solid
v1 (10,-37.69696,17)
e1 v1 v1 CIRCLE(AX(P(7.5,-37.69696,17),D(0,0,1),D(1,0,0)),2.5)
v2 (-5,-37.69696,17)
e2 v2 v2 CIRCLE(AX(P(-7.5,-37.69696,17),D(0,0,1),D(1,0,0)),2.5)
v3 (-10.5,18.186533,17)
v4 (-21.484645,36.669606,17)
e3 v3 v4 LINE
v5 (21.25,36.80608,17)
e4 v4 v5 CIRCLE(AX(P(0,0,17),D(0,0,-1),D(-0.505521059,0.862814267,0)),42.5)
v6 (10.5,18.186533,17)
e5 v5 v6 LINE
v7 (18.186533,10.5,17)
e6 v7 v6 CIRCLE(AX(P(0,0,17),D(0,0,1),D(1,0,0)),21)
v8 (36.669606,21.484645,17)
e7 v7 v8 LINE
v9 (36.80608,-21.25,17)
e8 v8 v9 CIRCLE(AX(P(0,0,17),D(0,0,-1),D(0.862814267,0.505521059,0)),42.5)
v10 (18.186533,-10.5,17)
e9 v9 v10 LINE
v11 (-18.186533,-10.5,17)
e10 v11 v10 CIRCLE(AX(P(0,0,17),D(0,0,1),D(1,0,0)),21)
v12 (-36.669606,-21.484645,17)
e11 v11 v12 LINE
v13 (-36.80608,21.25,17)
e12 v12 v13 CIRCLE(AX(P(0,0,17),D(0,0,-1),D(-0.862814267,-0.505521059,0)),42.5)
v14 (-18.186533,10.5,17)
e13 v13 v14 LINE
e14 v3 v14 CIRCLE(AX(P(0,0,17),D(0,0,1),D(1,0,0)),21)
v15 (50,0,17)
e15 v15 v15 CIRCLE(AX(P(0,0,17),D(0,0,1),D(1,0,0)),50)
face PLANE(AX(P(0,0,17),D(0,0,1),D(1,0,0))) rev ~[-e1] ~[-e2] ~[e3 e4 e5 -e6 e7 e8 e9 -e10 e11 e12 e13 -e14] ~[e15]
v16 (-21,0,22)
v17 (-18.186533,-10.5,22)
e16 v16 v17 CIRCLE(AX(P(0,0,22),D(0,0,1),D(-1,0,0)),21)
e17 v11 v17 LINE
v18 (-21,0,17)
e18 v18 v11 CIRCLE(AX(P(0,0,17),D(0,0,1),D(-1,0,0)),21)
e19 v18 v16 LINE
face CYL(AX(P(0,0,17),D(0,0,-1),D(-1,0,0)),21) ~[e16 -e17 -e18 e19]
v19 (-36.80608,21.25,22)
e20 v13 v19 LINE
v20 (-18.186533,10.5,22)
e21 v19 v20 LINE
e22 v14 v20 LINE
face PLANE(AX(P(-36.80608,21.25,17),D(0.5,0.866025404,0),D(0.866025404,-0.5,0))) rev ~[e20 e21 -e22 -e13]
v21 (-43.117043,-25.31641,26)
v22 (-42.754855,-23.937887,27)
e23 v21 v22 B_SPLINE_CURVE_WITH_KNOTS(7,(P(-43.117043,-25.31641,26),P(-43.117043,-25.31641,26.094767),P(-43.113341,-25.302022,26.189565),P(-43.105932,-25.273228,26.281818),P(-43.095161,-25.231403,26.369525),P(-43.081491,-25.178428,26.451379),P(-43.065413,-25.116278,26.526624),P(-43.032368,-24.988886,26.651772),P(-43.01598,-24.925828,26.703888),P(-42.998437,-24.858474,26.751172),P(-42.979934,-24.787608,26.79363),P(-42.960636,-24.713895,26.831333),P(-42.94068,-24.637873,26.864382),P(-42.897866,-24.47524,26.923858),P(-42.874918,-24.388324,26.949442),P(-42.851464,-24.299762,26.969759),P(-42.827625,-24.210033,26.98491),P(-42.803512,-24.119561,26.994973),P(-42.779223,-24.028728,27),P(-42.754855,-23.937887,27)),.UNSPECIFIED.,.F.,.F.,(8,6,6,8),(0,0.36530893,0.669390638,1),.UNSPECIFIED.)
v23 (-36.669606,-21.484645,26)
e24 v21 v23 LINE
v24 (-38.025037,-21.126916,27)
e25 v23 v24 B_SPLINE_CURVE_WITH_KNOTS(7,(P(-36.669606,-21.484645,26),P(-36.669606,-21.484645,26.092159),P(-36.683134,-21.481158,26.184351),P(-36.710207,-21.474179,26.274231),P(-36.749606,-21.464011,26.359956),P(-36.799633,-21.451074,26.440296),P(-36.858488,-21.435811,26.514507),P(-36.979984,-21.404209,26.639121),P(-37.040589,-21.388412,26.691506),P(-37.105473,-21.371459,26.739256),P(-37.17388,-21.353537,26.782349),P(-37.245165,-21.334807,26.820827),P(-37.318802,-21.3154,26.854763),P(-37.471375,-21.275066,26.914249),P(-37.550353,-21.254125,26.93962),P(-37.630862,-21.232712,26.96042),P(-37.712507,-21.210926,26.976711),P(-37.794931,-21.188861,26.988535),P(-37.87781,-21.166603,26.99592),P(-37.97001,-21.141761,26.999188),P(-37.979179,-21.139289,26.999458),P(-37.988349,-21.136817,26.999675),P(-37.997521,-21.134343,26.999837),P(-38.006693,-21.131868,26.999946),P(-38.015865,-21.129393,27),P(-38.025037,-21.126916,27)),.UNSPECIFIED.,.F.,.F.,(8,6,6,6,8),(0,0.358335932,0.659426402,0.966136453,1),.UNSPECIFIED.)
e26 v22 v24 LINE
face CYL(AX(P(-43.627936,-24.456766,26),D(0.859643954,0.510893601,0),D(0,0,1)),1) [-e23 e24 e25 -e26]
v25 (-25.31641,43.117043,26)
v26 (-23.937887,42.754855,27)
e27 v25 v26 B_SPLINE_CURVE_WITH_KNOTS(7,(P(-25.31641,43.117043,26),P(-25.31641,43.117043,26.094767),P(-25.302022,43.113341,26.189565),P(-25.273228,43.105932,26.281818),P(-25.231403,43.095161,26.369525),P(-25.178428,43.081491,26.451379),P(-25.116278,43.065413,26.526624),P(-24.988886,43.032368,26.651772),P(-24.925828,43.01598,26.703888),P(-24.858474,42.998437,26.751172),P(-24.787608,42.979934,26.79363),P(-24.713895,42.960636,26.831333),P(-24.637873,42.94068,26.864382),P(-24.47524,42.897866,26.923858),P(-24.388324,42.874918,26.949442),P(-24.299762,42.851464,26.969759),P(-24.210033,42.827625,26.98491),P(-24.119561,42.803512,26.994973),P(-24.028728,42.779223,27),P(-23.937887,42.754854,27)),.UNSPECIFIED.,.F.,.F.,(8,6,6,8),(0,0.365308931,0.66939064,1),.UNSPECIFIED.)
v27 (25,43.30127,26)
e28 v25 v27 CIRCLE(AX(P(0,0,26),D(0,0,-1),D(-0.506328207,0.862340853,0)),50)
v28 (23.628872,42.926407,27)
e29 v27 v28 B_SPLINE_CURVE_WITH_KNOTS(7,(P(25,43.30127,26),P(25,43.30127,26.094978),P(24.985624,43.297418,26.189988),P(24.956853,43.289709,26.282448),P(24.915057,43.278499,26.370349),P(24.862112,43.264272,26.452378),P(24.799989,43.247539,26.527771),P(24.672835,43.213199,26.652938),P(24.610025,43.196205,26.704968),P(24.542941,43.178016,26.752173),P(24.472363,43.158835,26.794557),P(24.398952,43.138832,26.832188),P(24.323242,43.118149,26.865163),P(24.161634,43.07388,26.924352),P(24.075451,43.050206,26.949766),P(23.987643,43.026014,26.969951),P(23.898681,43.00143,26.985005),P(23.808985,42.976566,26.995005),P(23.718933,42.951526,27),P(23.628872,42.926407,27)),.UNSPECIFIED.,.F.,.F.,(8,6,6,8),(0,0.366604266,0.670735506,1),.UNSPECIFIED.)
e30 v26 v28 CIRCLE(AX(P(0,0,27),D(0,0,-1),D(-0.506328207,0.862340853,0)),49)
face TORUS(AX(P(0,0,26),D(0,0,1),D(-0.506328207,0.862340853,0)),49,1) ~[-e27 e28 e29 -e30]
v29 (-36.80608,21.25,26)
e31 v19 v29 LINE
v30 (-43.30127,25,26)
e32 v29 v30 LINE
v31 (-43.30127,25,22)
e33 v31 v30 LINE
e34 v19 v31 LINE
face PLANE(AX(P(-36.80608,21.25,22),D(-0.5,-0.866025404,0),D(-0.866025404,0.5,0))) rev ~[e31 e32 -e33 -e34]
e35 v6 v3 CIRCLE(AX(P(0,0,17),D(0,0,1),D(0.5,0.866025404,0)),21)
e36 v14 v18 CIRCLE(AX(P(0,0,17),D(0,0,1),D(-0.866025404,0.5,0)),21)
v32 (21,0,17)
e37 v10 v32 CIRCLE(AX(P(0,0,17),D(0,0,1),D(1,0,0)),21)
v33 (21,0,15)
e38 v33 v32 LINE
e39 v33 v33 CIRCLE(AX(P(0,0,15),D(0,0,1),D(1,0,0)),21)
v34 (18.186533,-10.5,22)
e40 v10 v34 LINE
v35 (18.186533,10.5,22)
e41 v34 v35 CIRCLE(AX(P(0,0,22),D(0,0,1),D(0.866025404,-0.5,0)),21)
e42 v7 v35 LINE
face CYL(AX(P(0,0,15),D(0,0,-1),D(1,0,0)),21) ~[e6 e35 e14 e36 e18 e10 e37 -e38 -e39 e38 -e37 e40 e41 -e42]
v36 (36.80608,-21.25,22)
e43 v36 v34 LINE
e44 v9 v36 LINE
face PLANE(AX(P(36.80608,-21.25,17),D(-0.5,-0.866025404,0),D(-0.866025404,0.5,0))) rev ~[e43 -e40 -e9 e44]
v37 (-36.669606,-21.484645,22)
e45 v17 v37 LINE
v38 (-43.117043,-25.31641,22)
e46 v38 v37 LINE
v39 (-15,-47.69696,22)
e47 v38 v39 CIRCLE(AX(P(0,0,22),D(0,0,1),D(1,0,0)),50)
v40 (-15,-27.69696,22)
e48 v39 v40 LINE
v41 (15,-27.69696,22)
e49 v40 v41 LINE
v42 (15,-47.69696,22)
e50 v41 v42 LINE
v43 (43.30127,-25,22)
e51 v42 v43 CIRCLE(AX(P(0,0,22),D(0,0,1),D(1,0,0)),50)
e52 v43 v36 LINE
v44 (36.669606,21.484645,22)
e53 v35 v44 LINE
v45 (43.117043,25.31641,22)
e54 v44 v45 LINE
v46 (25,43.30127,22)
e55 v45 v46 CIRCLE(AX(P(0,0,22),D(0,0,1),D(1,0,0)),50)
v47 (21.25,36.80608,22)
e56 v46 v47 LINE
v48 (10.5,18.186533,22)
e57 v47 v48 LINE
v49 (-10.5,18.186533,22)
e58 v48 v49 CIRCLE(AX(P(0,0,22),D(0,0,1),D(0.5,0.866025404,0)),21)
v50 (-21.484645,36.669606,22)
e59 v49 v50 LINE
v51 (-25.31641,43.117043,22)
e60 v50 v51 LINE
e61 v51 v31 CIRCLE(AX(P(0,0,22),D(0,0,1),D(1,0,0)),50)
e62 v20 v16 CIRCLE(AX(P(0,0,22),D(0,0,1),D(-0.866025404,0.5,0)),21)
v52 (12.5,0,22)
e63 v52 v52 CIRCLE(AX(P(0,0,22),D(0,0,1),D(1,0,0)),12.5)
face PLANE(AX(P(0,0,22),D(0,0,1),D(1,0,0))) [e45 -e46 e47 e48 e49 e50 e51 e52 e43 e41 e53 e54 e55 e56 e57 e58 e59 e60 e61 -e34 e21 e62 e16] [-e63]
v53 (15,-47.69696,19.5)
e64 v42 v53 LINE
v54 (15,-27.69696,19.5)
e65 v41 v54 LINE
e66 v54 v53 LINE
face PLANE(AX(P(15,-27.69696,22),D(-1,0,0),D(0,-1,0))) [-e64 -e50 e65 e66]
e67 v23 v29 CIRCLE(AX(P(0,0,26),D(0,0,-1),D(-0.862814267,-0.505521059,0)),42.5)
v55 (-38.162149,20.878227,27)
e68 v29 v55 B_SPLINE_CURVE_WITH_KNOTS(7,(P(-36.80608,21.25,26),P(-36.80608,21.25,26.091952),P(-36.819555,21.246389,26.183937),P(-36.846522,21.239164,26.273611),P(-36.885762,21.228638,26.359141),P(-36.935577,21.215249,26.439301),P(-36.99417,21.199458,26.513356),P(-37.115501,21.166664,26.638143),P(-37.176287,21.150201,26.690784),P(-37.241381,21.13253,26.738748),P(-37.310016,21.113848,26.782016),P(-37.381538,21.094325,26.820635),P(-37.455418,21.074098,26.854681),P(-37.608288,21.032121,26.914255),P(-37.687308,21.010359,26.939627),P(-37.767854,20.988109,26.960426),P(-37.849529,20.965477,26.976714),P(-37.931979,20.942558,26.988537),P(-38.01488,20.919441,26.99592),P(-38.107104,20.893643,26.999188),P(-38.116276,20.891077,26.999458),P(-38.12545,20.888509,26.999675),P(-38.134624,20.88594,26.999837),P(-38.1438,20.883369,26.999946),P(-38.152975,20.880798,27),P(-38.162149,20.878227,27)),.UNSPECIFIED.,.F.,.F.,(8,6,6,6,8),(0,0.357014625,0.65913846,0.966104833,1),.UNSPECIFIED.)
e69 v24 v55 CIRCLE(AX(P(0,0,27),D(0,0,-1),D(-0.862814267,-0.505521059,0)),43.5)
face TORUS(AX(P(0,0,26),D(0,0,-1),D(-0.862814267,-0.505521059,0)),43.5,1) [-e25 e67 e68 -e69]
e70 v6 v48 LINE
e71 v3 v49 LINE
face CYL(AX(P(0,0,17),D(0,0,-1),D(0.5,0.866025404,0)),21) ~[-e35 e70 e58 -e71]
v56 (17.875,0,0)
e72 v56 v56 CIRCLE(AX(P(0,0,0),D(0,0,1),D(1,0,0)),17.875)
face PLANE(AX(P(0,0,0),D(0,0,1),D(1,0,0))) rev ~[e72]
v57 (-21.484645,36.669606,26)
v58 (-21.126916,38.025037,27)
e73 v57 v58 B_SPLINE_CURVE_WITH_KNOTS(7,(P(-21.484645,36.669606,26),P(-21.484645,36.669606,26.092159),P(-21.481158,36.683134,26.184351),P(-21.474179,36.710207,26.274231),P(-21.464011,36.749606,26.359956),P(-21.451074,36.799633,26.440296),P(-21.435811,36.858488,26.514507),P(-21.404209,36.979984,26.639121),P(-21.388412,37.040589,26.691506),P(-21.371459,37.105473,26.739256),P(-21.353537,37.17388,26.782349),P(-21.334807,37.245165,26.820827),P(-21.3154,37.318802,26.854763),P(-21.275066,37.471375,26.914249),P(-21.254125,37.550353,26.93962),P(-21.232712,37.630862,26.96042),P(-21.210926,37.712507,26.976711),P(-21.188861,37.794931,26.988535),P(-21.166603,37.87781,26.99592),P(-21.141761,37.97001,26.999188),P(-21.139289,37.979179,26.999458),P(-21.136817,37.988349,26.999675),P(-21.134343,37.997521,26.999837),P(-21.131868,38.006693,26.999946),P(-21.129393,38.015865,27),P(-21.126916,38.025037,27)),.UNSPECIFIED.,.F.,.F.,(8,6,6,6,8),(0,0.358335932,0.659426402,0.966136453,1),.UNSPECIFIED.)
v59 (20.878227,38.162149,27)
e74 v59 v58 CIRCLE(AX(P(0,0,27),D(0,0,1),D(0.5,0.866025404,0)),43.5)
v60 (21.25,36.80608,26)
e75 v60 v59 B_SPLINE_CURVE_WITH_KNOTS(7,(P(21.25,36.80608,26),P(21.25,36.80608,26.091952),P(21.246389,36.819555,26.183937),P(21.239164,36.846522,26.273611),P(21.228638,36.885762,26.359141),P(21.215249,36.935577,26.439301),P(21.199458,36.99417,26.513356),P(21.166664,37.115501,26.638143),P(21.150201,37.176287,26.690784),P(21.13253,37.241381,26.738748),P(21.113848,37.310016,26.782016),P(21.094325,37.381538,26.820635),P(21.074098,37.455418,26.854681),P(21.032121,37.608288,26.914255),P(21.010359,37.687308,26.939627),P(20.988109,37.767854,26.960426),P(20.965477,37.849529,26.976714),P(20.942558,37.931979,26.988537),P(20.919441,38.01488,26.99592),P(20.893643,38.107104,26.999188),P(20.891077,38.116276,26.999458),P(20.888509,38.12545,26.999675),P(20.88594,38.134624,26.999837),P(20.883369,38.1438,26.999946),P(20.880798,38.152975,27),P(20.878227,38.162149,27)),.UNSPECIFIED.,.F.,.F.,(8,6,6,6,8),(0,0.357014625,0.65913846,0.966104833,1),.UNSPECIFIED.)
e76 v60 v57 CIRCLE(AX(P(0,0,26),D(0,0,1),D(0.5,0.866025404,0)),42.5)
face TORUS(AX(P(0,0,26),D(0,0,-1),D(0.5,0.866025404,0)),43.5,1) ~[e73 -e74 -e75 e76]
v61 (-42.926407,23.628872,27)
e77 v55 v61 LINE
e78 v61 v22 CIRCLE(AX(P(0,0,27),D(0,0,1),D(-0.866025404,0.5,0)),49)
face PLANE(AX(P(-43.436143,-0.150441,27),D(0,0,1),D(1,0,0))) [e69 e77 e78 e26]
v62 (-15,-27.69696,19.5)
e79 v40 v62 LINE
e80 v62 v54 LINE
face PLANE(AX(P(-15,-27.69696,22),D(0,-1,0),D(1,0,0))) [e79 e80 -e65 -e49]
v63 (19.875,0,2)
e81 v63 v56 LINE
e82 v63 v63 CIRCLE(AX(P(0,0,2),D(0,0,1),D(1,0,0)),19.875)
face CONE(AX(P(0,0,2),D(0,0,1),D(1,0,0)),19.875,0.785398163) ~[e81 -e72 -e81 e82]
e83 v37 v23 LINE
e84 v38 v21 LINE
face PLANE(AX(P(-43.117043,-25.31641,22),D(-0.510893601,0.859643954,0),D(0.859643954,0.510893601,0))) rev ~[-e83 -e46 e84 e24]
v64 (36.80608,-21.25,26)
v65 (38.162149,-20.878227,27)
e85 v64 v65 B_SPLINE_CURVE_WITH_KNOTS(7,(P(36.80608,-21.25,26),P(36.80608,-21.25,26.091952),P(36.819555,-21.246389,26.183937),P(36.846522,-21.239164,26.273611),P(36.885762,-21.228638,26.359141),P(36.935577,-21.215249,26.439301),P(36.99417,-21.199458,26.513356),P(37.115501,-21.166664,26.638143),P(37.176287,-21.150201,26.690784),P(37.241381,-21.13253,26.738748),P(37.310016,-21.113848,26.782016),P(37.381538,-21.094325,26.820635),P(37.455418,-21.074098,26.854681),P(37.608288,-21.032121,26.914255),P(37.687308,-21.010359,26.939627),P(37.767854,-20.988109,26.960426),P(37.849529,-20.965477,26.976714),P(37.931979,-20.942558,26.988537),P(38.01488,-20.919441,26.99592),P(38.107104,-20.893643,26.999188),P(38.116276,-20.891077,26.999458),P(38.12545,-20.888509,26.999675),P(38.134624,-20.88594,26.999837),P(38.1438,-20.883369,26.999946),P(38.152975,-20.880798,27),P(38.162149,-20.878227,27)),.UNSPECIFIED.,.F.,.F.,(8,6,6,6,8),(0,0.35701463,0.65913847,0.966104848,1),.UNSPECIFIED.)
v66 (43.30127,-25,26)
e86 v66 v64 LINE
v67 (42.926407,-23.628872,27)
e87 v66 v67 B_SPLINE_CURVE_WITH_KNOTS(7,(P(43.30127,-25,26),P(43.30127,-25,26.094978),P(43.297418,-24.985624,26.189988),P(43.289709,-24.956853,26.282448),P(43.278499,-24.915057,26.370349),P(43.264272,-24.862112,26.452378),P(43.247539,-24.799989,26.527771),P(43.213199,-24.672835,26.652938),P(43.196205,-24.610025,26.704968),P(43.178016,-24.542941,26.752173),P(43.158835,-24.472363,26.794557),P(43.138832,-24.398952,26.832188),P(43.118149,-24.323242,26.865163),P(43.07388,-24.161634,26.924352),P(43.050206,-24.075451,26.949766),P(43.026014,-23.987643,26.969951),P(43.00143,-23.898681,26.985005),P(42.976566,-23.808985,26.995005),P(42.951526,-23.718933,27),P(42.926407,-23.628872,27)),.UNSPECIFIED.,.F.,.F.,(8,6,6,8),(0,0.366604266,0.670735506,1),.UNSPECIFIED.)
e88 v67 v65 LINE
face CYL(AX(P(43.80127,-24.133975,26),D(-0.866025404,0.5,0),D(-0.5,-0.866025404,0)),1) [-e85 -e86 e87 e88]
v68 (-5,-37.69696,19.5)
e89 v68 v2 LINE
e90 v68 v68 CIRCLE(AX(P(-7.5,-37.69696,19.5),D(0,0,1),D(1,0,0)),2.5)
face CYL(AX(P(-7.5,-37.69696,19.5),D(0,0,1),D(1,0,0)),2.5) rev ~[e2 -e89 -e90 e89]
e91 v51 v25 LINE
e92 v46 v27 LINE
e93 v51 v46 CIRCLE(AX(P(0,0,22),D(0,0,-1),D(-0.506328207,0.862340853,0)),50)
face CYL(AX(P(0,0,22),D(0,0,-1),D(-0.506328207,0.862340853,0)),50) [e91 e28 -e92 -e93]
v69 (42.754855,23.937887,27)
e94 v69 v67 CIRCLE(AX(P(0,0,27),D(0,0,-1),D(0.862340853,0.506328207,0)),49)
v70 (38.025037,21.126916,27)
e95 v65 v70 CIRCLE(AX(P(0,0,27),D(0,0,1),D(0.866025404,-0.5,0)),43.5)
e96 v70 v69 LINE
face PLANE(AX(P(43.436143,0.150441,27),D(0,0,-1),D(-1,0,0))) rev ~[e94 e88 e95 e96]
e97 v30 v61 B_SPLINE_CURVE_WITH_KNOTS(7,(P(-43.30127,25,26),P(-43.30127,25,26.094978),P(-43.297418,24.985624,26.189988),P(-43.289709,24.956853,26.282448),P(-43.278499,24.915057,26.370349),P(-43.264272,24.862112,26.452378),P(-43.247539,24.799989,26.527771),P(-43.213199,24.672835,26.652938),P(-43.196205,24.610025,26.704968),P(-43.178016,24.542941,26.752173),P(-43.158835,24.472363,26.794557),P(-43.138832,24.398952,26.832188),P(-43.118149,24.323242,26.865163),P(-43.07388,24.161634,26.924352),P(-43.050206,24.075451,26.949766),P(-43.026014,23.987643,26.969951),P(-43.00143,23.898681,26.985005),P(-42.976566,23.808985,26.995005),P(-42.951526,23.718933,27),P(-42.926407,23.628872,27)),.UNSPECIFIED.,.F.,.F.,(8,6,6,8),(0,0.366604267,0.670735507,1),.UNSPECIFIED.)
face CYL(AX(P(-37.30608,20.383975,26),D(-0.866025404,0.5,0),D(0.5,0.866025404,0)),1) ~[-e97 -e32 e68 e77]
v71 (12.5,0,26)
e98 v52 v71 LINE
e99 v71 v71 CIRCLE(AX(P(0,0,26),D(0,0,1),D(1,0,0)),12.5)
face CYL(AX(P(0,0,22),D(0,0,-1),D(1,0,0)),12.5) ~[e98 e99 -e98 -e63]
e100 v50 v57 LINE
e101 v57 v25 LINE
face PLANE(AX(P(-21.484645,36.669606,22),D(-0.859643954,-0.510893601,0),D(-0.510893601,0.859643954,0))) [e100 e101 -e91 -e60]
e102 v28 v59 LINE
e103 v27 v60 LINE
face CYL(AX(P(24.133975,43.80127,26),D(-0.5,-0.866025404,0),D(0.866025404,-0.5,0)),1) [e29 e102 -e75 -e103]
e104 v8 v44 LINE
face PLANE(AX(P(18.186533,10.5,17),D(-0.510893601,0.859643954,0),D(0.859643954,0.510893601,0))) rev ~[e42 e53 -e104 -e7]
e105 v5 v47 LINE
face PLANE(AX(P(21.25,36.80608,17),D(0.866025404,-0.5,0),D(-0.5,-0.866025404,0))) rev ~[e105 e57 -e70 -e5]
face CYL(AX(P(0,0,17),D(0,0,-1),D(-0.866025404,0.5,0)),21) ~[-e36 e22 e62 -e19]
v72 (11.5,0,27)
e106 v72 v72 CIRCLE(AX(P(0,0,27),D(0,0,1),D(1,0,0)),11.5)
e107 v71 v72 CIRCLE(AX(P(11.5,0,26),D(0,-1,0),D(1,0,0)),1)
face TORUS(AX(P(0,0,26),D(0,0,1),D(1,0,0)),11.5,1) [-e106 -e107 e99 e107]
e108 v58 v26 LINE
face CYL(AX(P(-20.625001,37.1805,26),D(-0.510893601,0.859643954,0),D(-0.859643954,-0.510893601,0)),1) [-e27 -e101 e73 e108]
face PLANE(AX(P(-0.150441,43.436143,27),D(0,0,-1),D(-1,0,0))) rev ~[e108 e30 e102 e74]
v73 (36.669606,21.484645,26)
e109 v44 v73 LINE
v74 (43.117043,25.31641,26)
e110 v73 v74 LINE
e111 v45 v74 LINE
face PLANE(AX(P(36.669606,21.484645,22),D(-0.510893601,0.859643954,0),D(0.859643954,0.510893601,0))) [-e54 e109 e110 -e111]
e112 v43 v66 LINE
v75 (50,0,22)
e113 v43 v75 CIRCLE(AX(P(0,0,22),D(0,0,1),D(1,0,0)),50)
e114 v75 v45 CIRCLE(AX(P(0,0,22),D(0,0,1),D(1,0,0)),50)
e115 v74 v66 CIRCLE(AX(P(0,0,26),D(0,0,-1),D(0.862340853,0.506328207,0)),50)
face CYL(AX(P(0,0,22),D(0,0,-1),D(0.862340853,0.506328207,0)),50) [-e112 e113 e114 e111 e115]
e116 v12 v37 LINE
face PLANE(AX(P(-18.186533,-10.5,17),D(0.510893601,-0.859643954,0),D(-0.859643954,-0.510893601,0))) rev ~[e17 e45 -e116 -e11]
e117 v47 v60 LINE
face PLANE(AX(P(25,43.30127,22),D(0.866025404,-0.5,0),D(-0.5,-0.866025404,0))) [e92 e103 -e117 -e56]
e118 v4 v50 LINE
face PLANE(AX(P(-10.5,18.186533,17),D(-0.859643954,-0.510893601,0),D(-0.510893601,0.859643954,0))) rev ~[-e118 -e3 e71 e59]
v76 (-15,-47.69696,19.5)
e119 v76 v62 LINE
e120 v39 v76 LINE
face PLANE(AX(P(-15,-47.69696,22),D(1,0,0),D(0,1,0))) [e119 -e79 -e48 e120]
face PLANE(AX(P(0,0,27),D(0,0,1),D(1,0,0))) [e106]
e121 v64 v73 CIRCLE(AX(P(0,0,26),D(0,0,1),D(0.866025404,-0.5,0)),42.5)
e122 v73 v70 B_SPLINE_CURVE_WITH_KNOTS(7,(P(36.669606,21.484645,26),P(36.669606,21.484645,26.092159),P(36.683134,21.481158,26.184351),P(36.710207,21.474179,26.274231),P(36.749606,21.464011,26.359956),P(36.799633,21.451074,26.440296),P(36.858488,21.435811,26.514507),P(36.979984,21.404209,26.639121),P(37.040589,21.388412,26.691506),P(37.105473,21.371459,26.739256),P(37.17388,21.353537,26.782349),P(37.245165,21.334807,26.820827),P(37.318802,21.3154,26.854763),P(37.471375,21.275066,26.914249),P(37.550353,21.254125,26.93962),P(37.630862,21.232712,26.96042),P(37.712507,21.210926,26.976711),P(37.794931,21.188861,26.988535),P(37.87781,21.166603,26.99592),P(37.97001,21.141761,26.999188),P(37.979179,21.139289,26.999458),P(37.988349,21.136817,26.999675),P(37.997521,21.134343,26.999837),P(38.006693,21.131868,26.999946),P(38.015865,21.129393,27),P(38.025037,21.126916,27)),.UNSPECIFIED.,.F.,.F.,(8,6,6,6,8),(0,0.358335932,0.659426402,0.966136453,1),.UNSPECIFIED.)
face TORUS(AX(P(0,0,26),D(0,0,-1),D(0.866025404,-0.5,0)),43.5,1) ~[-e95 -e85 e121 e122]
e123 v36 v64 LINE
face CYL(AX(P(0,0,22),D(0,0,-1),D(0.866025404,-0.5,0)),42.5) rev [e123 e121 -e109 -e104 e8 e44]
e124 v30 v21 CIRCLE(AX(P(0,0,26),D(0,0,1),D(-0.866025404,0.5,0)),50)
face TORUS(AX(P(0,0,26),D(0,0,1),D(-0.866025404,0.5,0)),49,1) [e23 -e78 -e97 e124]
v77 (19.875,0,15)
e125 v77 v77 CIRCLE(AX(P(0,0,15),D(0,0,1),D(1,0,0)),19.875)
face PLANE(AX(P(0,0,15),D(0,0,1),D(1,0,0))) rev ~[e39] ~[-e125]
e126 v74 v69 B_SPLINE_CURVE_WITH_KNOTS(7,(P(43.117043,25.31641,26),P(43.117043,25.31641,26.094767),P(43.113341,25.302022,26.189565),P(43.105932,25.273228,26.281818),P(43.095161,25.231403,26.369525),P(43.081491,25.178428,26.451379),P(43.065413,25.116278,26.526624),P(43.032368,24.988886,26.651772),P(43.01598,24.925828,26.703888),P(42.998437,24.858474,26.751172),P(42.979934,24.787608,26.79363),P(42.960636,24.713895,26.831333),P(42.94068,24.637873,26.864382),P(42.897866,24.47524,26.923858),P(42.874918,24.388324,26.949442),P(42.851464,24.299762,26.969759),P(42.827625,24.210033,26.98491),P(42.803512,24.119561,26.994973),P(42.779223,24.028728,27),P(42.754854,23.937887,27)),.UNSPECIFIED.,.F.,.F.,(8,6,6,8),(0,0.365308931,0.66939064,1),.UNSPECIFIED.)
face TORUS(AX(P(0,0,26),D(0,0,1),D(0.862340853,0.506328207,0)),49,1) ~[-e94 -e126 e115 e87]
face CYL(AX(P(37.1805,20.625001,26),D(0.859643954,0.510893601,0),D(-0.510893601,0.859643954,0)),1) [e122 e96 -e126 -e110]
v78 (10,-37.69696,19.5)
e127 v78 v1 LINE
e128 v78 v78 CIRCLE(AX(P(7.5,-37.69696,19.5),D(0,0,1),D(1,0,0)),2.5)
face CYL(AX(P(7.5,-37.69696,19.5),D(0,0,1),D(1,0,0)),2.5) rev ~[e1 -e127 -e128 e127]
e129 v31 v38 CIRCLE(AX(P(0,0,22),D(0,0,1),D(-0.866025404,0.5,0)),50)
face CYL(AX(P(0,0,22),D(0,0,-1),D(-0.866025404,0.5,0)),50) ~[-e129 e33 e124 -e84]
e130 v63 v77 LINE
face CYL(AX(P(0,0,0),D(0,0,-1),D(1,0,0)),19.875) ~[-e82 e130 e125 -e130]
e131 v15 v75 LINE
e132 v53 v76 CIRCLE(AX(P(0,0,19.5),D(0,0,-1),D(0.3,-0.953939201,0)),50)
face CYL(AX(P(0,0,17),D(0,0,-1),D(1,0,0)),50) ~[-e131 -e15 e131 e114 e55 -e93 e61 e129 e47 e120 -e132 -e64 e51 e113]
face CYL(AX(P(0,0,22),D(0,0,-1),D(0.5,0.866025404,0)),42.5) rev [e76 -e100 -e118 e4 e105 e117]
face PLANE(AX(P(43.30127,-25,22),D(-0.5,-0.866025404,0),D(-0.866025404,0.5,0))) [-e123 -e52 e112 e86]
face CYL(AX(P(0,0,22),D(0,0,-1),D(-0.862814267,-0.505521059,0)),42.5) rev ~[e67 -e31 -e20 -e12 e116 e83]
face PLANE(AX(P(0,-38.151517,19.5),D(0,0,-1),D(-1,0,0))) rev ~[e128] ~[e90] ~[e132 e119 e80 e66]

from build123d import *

# Parameters (mm, degrees)
SKETCH1_R           = 19.875
BOSS_EXTRUDE1_DEPTH = 15
SKETCH2_R           = 21
BOSS_EXTRUDE2_DEPTH = 2
SKETCH3_R           = 50
BOSS_EXTRUDE3_DEPTH = 5
CUT_EXTRUDE2_DEPTH  = 5
CUT_EXTRUDE3_DEPTH  = 2.5
SKETCH8_R           = 2.5
CUT_EXTRUDE4_DEPTH  = 20.5
BOSS_EXTRUDE4_DEPTH = 5
FILLET1_R           = 1
CHAMFER1_SIZE       = 2
SKETCH10_R          = 12.5
BOSS_EXTRUDE5_DEPTH = 5
FILLET2_R           = 1


with BuildPart() as part:
    # Sketch1 → Boss-Extrude1 (new body)
    with BuildSketch(Plane.XY):
        Circle(SKETCH1_R)
    extrude(amount=BOSS_EXTRUDE1_DEPTH)

    # Sketch2 → Boss-Extrude2 (add)
    with BuildSketch(Plane.XY.offset(15)):
        Circle(SKETCH2_R)
    extrude(amount=BOSS_EXTRUDE2_DEPTH)

    # Sketch3 → Boss-Extrude3 (add)
    with BuildSketch(Plane.XY.offset(17)):
        Circle(SKETCH3_R)
    extrude(amount=BOSS_EXTRUDE3_DEPTH)

    # Sketch4 → Cut-Extrude2 (cut)
    with BuildSketch(Plane(origin=(0, 0, 17), x_dir=(-1, 0, 0), z_dir=(0, 0, -1))):
        with BuildLine():
            ThreePointArc((-18.186533479, -10.5), (-21, 0), (-18.186533479, 10.5))
            Line((-18.186533479, 10.5), (-36.669606346, 21.484644991))
            ThreePointArc((-36.669606346, 21.484644991), (-42.499783284, 0.135723282), (-36.806079661, -21.25))
            Line((-36.806079661, -21.25), (-18.186533479, -10.5))
        make_face()
        with BuildLine():
            Line((-21.25, 36.806079661), (-10.5, 18.186533479))
            ThreePointArc((-10.5, 18.186533479), (0, 21), (10.5, 18.186533479))
            Line((10.5, 18.186533479), (21.484644991, 36.669606346))
            ThreePointArc((21.484644991, 36.669606346), (0.135723282, 42.499783284), (-21.25, 36.806079661))
        make_face()
        with BuildLine():
            Line((36.806079661, 21.25), (18.186533479, 10.5))
            ThreePointArc((18.186533479, 10.5), (20.284442352, 5.435199947), (21, 0))
            ThreePointArc((21, 0), (20.284442352, -5.435199947), (18.186533479, -10.5))
            Line((18.186533479, -10.5), (36.669606346, -21.484644991))
            ThreePointArc((36.669606346, -21.484644991), (42.499783284, -0.135723282), (36.806079661, 21.25))
        make_face()
    extrude(amount=-CUT_EXTRUDE2_DEPTH, mode=Mode.SUBTRACT)

    # Sketch5 → Cut-Extrude3 (cut)
    with BuildSketch(Plane.XY.offset(22)):
        with BuildLine():
            Line((-15, -47.696960071), (-15, -27.696960071))
            Line((-15, -27.696960071), (15, -27.696960071))
            Line((15, -27.696960071), (15, -47.696960071))
            ThreePointArc((15, -47.696960071), (0, -50), (-15, -47.696960071))
        make_face()
    extrude(amount=-CUT_EXTRUDE3_DEPTH, mode=Mode.SUBTRACT)

    # Sketch8 → Cut-Extrude4 (cut, through all)
    with BuildSketch(Plane.XY.offset(19.5)):
        with Locations((-7.5, -37.696960071)):
            Circle(SKETCH8_R)
        with Locations((7.5, -37.696960071)):
            Circle(SKETCH8_R)
    extrude(amount=-CUT_EXTRUDE4_DEPTH, mode=Mode.SUBTRACT)

    # Sketch9 → Boss-Extrude4 (add)
    with BuildSketch(Plane.XY.offset(22)):
        with BuildLine():
            Line((-36.806079661, 21.25), (-43.301270189, 25))
            ThreePointArc((-43.301270189, 25), (-49.999664861, -0.183067825), (-43.117042638, -25.316410373))
            Line((-43.117042638, -25.316410373), (-36.669606346, -21.484644991))
            ThreePointArc((-36.669606346, -21.484644991), (-42.499783284, -0.135723282), (-36.806079661, 21.25))
        make_face()
        with BuildLine():
            Line((-21.484644991, 36.669606346), (-25.316410373, 43.117042638))
            ThreePointArc((-25.316410373, 43.117042638), (-0.183067825, 49.999664861), (25, 43.301270189))
            Line((25, 43.301270189), (21.25, 36.806079661))
            ThreePointArc((21.25, 36.806079661), (-0.135723282, 42.499783284), (-21.484644991, 36.669606346))
        make_face()
        with BuildLine():
            Line((36.669606346, 21.484644991), (43.117042638, 25.316410373))
            ThreePointArc((43.117042638, 25.316410373), (49.999664861, 0.183067825), (43.301270189, -25))
            Line((43.301270189, -25), (36.806079661, -21.25))
            ThreePointArc((36.806079661, -21.25), (42.499783284, 0.135723282), (36.669606346, 21.484644991))
        make_face()
    extrude(amount=BOSS_EXTRUDE4_DEPTH)

    # Fillet1
    fillet1_edges = [part.edges().sort_by_distance(p)[0] for p in [
        (-0.183067825, 49.999664861, 27),
        (-23.400527682, 39.893324492, 27),
        (42.499783284, 0.135723282, 27),
        (40.053674925, -23.125, 27),
        (49.999664861, 0.183067825, 27),
        (39.893324492, 23.400527682, 27),
        (-42.499783284, -0.135723282, 27),
        (-40.053674925, 23.125, 27),
        (-49.999664861, -0.183067825, 27),
        (-39.893324492, -23.400527682, 27),
        (-0.135723282, 42.499783284, 27),
        (23.125, 40.053674925, 27),
    ]]
    fillet(fillet1_edges, radius=FILLET1_R)

    # Chamfer1
    chamfer1_edges = [part.edges().sort_by_distance(p)[0] for p in [
        (-19.875, 0, 0),
    ]]
    chamfer(chamfer1_edges, length=CHAMFER1_SIZE)

    # Sketch10 → Boss-Extrude5 (add)
    with BuildSketch(Plane.XY.offset(22)):
        Circle(SKETCH10_R)
    extrude(amount=BOSS_EXTRUDE5_DEPTH)

    # Fillet2
    fillet2_edges = [part.edges().sort_by_distance(p)[0] for p in [
        (-12.5, 0, 27),
    ]]
    fillet(fillet2_edges, radius=FILLET2_R)


solid = part.part
